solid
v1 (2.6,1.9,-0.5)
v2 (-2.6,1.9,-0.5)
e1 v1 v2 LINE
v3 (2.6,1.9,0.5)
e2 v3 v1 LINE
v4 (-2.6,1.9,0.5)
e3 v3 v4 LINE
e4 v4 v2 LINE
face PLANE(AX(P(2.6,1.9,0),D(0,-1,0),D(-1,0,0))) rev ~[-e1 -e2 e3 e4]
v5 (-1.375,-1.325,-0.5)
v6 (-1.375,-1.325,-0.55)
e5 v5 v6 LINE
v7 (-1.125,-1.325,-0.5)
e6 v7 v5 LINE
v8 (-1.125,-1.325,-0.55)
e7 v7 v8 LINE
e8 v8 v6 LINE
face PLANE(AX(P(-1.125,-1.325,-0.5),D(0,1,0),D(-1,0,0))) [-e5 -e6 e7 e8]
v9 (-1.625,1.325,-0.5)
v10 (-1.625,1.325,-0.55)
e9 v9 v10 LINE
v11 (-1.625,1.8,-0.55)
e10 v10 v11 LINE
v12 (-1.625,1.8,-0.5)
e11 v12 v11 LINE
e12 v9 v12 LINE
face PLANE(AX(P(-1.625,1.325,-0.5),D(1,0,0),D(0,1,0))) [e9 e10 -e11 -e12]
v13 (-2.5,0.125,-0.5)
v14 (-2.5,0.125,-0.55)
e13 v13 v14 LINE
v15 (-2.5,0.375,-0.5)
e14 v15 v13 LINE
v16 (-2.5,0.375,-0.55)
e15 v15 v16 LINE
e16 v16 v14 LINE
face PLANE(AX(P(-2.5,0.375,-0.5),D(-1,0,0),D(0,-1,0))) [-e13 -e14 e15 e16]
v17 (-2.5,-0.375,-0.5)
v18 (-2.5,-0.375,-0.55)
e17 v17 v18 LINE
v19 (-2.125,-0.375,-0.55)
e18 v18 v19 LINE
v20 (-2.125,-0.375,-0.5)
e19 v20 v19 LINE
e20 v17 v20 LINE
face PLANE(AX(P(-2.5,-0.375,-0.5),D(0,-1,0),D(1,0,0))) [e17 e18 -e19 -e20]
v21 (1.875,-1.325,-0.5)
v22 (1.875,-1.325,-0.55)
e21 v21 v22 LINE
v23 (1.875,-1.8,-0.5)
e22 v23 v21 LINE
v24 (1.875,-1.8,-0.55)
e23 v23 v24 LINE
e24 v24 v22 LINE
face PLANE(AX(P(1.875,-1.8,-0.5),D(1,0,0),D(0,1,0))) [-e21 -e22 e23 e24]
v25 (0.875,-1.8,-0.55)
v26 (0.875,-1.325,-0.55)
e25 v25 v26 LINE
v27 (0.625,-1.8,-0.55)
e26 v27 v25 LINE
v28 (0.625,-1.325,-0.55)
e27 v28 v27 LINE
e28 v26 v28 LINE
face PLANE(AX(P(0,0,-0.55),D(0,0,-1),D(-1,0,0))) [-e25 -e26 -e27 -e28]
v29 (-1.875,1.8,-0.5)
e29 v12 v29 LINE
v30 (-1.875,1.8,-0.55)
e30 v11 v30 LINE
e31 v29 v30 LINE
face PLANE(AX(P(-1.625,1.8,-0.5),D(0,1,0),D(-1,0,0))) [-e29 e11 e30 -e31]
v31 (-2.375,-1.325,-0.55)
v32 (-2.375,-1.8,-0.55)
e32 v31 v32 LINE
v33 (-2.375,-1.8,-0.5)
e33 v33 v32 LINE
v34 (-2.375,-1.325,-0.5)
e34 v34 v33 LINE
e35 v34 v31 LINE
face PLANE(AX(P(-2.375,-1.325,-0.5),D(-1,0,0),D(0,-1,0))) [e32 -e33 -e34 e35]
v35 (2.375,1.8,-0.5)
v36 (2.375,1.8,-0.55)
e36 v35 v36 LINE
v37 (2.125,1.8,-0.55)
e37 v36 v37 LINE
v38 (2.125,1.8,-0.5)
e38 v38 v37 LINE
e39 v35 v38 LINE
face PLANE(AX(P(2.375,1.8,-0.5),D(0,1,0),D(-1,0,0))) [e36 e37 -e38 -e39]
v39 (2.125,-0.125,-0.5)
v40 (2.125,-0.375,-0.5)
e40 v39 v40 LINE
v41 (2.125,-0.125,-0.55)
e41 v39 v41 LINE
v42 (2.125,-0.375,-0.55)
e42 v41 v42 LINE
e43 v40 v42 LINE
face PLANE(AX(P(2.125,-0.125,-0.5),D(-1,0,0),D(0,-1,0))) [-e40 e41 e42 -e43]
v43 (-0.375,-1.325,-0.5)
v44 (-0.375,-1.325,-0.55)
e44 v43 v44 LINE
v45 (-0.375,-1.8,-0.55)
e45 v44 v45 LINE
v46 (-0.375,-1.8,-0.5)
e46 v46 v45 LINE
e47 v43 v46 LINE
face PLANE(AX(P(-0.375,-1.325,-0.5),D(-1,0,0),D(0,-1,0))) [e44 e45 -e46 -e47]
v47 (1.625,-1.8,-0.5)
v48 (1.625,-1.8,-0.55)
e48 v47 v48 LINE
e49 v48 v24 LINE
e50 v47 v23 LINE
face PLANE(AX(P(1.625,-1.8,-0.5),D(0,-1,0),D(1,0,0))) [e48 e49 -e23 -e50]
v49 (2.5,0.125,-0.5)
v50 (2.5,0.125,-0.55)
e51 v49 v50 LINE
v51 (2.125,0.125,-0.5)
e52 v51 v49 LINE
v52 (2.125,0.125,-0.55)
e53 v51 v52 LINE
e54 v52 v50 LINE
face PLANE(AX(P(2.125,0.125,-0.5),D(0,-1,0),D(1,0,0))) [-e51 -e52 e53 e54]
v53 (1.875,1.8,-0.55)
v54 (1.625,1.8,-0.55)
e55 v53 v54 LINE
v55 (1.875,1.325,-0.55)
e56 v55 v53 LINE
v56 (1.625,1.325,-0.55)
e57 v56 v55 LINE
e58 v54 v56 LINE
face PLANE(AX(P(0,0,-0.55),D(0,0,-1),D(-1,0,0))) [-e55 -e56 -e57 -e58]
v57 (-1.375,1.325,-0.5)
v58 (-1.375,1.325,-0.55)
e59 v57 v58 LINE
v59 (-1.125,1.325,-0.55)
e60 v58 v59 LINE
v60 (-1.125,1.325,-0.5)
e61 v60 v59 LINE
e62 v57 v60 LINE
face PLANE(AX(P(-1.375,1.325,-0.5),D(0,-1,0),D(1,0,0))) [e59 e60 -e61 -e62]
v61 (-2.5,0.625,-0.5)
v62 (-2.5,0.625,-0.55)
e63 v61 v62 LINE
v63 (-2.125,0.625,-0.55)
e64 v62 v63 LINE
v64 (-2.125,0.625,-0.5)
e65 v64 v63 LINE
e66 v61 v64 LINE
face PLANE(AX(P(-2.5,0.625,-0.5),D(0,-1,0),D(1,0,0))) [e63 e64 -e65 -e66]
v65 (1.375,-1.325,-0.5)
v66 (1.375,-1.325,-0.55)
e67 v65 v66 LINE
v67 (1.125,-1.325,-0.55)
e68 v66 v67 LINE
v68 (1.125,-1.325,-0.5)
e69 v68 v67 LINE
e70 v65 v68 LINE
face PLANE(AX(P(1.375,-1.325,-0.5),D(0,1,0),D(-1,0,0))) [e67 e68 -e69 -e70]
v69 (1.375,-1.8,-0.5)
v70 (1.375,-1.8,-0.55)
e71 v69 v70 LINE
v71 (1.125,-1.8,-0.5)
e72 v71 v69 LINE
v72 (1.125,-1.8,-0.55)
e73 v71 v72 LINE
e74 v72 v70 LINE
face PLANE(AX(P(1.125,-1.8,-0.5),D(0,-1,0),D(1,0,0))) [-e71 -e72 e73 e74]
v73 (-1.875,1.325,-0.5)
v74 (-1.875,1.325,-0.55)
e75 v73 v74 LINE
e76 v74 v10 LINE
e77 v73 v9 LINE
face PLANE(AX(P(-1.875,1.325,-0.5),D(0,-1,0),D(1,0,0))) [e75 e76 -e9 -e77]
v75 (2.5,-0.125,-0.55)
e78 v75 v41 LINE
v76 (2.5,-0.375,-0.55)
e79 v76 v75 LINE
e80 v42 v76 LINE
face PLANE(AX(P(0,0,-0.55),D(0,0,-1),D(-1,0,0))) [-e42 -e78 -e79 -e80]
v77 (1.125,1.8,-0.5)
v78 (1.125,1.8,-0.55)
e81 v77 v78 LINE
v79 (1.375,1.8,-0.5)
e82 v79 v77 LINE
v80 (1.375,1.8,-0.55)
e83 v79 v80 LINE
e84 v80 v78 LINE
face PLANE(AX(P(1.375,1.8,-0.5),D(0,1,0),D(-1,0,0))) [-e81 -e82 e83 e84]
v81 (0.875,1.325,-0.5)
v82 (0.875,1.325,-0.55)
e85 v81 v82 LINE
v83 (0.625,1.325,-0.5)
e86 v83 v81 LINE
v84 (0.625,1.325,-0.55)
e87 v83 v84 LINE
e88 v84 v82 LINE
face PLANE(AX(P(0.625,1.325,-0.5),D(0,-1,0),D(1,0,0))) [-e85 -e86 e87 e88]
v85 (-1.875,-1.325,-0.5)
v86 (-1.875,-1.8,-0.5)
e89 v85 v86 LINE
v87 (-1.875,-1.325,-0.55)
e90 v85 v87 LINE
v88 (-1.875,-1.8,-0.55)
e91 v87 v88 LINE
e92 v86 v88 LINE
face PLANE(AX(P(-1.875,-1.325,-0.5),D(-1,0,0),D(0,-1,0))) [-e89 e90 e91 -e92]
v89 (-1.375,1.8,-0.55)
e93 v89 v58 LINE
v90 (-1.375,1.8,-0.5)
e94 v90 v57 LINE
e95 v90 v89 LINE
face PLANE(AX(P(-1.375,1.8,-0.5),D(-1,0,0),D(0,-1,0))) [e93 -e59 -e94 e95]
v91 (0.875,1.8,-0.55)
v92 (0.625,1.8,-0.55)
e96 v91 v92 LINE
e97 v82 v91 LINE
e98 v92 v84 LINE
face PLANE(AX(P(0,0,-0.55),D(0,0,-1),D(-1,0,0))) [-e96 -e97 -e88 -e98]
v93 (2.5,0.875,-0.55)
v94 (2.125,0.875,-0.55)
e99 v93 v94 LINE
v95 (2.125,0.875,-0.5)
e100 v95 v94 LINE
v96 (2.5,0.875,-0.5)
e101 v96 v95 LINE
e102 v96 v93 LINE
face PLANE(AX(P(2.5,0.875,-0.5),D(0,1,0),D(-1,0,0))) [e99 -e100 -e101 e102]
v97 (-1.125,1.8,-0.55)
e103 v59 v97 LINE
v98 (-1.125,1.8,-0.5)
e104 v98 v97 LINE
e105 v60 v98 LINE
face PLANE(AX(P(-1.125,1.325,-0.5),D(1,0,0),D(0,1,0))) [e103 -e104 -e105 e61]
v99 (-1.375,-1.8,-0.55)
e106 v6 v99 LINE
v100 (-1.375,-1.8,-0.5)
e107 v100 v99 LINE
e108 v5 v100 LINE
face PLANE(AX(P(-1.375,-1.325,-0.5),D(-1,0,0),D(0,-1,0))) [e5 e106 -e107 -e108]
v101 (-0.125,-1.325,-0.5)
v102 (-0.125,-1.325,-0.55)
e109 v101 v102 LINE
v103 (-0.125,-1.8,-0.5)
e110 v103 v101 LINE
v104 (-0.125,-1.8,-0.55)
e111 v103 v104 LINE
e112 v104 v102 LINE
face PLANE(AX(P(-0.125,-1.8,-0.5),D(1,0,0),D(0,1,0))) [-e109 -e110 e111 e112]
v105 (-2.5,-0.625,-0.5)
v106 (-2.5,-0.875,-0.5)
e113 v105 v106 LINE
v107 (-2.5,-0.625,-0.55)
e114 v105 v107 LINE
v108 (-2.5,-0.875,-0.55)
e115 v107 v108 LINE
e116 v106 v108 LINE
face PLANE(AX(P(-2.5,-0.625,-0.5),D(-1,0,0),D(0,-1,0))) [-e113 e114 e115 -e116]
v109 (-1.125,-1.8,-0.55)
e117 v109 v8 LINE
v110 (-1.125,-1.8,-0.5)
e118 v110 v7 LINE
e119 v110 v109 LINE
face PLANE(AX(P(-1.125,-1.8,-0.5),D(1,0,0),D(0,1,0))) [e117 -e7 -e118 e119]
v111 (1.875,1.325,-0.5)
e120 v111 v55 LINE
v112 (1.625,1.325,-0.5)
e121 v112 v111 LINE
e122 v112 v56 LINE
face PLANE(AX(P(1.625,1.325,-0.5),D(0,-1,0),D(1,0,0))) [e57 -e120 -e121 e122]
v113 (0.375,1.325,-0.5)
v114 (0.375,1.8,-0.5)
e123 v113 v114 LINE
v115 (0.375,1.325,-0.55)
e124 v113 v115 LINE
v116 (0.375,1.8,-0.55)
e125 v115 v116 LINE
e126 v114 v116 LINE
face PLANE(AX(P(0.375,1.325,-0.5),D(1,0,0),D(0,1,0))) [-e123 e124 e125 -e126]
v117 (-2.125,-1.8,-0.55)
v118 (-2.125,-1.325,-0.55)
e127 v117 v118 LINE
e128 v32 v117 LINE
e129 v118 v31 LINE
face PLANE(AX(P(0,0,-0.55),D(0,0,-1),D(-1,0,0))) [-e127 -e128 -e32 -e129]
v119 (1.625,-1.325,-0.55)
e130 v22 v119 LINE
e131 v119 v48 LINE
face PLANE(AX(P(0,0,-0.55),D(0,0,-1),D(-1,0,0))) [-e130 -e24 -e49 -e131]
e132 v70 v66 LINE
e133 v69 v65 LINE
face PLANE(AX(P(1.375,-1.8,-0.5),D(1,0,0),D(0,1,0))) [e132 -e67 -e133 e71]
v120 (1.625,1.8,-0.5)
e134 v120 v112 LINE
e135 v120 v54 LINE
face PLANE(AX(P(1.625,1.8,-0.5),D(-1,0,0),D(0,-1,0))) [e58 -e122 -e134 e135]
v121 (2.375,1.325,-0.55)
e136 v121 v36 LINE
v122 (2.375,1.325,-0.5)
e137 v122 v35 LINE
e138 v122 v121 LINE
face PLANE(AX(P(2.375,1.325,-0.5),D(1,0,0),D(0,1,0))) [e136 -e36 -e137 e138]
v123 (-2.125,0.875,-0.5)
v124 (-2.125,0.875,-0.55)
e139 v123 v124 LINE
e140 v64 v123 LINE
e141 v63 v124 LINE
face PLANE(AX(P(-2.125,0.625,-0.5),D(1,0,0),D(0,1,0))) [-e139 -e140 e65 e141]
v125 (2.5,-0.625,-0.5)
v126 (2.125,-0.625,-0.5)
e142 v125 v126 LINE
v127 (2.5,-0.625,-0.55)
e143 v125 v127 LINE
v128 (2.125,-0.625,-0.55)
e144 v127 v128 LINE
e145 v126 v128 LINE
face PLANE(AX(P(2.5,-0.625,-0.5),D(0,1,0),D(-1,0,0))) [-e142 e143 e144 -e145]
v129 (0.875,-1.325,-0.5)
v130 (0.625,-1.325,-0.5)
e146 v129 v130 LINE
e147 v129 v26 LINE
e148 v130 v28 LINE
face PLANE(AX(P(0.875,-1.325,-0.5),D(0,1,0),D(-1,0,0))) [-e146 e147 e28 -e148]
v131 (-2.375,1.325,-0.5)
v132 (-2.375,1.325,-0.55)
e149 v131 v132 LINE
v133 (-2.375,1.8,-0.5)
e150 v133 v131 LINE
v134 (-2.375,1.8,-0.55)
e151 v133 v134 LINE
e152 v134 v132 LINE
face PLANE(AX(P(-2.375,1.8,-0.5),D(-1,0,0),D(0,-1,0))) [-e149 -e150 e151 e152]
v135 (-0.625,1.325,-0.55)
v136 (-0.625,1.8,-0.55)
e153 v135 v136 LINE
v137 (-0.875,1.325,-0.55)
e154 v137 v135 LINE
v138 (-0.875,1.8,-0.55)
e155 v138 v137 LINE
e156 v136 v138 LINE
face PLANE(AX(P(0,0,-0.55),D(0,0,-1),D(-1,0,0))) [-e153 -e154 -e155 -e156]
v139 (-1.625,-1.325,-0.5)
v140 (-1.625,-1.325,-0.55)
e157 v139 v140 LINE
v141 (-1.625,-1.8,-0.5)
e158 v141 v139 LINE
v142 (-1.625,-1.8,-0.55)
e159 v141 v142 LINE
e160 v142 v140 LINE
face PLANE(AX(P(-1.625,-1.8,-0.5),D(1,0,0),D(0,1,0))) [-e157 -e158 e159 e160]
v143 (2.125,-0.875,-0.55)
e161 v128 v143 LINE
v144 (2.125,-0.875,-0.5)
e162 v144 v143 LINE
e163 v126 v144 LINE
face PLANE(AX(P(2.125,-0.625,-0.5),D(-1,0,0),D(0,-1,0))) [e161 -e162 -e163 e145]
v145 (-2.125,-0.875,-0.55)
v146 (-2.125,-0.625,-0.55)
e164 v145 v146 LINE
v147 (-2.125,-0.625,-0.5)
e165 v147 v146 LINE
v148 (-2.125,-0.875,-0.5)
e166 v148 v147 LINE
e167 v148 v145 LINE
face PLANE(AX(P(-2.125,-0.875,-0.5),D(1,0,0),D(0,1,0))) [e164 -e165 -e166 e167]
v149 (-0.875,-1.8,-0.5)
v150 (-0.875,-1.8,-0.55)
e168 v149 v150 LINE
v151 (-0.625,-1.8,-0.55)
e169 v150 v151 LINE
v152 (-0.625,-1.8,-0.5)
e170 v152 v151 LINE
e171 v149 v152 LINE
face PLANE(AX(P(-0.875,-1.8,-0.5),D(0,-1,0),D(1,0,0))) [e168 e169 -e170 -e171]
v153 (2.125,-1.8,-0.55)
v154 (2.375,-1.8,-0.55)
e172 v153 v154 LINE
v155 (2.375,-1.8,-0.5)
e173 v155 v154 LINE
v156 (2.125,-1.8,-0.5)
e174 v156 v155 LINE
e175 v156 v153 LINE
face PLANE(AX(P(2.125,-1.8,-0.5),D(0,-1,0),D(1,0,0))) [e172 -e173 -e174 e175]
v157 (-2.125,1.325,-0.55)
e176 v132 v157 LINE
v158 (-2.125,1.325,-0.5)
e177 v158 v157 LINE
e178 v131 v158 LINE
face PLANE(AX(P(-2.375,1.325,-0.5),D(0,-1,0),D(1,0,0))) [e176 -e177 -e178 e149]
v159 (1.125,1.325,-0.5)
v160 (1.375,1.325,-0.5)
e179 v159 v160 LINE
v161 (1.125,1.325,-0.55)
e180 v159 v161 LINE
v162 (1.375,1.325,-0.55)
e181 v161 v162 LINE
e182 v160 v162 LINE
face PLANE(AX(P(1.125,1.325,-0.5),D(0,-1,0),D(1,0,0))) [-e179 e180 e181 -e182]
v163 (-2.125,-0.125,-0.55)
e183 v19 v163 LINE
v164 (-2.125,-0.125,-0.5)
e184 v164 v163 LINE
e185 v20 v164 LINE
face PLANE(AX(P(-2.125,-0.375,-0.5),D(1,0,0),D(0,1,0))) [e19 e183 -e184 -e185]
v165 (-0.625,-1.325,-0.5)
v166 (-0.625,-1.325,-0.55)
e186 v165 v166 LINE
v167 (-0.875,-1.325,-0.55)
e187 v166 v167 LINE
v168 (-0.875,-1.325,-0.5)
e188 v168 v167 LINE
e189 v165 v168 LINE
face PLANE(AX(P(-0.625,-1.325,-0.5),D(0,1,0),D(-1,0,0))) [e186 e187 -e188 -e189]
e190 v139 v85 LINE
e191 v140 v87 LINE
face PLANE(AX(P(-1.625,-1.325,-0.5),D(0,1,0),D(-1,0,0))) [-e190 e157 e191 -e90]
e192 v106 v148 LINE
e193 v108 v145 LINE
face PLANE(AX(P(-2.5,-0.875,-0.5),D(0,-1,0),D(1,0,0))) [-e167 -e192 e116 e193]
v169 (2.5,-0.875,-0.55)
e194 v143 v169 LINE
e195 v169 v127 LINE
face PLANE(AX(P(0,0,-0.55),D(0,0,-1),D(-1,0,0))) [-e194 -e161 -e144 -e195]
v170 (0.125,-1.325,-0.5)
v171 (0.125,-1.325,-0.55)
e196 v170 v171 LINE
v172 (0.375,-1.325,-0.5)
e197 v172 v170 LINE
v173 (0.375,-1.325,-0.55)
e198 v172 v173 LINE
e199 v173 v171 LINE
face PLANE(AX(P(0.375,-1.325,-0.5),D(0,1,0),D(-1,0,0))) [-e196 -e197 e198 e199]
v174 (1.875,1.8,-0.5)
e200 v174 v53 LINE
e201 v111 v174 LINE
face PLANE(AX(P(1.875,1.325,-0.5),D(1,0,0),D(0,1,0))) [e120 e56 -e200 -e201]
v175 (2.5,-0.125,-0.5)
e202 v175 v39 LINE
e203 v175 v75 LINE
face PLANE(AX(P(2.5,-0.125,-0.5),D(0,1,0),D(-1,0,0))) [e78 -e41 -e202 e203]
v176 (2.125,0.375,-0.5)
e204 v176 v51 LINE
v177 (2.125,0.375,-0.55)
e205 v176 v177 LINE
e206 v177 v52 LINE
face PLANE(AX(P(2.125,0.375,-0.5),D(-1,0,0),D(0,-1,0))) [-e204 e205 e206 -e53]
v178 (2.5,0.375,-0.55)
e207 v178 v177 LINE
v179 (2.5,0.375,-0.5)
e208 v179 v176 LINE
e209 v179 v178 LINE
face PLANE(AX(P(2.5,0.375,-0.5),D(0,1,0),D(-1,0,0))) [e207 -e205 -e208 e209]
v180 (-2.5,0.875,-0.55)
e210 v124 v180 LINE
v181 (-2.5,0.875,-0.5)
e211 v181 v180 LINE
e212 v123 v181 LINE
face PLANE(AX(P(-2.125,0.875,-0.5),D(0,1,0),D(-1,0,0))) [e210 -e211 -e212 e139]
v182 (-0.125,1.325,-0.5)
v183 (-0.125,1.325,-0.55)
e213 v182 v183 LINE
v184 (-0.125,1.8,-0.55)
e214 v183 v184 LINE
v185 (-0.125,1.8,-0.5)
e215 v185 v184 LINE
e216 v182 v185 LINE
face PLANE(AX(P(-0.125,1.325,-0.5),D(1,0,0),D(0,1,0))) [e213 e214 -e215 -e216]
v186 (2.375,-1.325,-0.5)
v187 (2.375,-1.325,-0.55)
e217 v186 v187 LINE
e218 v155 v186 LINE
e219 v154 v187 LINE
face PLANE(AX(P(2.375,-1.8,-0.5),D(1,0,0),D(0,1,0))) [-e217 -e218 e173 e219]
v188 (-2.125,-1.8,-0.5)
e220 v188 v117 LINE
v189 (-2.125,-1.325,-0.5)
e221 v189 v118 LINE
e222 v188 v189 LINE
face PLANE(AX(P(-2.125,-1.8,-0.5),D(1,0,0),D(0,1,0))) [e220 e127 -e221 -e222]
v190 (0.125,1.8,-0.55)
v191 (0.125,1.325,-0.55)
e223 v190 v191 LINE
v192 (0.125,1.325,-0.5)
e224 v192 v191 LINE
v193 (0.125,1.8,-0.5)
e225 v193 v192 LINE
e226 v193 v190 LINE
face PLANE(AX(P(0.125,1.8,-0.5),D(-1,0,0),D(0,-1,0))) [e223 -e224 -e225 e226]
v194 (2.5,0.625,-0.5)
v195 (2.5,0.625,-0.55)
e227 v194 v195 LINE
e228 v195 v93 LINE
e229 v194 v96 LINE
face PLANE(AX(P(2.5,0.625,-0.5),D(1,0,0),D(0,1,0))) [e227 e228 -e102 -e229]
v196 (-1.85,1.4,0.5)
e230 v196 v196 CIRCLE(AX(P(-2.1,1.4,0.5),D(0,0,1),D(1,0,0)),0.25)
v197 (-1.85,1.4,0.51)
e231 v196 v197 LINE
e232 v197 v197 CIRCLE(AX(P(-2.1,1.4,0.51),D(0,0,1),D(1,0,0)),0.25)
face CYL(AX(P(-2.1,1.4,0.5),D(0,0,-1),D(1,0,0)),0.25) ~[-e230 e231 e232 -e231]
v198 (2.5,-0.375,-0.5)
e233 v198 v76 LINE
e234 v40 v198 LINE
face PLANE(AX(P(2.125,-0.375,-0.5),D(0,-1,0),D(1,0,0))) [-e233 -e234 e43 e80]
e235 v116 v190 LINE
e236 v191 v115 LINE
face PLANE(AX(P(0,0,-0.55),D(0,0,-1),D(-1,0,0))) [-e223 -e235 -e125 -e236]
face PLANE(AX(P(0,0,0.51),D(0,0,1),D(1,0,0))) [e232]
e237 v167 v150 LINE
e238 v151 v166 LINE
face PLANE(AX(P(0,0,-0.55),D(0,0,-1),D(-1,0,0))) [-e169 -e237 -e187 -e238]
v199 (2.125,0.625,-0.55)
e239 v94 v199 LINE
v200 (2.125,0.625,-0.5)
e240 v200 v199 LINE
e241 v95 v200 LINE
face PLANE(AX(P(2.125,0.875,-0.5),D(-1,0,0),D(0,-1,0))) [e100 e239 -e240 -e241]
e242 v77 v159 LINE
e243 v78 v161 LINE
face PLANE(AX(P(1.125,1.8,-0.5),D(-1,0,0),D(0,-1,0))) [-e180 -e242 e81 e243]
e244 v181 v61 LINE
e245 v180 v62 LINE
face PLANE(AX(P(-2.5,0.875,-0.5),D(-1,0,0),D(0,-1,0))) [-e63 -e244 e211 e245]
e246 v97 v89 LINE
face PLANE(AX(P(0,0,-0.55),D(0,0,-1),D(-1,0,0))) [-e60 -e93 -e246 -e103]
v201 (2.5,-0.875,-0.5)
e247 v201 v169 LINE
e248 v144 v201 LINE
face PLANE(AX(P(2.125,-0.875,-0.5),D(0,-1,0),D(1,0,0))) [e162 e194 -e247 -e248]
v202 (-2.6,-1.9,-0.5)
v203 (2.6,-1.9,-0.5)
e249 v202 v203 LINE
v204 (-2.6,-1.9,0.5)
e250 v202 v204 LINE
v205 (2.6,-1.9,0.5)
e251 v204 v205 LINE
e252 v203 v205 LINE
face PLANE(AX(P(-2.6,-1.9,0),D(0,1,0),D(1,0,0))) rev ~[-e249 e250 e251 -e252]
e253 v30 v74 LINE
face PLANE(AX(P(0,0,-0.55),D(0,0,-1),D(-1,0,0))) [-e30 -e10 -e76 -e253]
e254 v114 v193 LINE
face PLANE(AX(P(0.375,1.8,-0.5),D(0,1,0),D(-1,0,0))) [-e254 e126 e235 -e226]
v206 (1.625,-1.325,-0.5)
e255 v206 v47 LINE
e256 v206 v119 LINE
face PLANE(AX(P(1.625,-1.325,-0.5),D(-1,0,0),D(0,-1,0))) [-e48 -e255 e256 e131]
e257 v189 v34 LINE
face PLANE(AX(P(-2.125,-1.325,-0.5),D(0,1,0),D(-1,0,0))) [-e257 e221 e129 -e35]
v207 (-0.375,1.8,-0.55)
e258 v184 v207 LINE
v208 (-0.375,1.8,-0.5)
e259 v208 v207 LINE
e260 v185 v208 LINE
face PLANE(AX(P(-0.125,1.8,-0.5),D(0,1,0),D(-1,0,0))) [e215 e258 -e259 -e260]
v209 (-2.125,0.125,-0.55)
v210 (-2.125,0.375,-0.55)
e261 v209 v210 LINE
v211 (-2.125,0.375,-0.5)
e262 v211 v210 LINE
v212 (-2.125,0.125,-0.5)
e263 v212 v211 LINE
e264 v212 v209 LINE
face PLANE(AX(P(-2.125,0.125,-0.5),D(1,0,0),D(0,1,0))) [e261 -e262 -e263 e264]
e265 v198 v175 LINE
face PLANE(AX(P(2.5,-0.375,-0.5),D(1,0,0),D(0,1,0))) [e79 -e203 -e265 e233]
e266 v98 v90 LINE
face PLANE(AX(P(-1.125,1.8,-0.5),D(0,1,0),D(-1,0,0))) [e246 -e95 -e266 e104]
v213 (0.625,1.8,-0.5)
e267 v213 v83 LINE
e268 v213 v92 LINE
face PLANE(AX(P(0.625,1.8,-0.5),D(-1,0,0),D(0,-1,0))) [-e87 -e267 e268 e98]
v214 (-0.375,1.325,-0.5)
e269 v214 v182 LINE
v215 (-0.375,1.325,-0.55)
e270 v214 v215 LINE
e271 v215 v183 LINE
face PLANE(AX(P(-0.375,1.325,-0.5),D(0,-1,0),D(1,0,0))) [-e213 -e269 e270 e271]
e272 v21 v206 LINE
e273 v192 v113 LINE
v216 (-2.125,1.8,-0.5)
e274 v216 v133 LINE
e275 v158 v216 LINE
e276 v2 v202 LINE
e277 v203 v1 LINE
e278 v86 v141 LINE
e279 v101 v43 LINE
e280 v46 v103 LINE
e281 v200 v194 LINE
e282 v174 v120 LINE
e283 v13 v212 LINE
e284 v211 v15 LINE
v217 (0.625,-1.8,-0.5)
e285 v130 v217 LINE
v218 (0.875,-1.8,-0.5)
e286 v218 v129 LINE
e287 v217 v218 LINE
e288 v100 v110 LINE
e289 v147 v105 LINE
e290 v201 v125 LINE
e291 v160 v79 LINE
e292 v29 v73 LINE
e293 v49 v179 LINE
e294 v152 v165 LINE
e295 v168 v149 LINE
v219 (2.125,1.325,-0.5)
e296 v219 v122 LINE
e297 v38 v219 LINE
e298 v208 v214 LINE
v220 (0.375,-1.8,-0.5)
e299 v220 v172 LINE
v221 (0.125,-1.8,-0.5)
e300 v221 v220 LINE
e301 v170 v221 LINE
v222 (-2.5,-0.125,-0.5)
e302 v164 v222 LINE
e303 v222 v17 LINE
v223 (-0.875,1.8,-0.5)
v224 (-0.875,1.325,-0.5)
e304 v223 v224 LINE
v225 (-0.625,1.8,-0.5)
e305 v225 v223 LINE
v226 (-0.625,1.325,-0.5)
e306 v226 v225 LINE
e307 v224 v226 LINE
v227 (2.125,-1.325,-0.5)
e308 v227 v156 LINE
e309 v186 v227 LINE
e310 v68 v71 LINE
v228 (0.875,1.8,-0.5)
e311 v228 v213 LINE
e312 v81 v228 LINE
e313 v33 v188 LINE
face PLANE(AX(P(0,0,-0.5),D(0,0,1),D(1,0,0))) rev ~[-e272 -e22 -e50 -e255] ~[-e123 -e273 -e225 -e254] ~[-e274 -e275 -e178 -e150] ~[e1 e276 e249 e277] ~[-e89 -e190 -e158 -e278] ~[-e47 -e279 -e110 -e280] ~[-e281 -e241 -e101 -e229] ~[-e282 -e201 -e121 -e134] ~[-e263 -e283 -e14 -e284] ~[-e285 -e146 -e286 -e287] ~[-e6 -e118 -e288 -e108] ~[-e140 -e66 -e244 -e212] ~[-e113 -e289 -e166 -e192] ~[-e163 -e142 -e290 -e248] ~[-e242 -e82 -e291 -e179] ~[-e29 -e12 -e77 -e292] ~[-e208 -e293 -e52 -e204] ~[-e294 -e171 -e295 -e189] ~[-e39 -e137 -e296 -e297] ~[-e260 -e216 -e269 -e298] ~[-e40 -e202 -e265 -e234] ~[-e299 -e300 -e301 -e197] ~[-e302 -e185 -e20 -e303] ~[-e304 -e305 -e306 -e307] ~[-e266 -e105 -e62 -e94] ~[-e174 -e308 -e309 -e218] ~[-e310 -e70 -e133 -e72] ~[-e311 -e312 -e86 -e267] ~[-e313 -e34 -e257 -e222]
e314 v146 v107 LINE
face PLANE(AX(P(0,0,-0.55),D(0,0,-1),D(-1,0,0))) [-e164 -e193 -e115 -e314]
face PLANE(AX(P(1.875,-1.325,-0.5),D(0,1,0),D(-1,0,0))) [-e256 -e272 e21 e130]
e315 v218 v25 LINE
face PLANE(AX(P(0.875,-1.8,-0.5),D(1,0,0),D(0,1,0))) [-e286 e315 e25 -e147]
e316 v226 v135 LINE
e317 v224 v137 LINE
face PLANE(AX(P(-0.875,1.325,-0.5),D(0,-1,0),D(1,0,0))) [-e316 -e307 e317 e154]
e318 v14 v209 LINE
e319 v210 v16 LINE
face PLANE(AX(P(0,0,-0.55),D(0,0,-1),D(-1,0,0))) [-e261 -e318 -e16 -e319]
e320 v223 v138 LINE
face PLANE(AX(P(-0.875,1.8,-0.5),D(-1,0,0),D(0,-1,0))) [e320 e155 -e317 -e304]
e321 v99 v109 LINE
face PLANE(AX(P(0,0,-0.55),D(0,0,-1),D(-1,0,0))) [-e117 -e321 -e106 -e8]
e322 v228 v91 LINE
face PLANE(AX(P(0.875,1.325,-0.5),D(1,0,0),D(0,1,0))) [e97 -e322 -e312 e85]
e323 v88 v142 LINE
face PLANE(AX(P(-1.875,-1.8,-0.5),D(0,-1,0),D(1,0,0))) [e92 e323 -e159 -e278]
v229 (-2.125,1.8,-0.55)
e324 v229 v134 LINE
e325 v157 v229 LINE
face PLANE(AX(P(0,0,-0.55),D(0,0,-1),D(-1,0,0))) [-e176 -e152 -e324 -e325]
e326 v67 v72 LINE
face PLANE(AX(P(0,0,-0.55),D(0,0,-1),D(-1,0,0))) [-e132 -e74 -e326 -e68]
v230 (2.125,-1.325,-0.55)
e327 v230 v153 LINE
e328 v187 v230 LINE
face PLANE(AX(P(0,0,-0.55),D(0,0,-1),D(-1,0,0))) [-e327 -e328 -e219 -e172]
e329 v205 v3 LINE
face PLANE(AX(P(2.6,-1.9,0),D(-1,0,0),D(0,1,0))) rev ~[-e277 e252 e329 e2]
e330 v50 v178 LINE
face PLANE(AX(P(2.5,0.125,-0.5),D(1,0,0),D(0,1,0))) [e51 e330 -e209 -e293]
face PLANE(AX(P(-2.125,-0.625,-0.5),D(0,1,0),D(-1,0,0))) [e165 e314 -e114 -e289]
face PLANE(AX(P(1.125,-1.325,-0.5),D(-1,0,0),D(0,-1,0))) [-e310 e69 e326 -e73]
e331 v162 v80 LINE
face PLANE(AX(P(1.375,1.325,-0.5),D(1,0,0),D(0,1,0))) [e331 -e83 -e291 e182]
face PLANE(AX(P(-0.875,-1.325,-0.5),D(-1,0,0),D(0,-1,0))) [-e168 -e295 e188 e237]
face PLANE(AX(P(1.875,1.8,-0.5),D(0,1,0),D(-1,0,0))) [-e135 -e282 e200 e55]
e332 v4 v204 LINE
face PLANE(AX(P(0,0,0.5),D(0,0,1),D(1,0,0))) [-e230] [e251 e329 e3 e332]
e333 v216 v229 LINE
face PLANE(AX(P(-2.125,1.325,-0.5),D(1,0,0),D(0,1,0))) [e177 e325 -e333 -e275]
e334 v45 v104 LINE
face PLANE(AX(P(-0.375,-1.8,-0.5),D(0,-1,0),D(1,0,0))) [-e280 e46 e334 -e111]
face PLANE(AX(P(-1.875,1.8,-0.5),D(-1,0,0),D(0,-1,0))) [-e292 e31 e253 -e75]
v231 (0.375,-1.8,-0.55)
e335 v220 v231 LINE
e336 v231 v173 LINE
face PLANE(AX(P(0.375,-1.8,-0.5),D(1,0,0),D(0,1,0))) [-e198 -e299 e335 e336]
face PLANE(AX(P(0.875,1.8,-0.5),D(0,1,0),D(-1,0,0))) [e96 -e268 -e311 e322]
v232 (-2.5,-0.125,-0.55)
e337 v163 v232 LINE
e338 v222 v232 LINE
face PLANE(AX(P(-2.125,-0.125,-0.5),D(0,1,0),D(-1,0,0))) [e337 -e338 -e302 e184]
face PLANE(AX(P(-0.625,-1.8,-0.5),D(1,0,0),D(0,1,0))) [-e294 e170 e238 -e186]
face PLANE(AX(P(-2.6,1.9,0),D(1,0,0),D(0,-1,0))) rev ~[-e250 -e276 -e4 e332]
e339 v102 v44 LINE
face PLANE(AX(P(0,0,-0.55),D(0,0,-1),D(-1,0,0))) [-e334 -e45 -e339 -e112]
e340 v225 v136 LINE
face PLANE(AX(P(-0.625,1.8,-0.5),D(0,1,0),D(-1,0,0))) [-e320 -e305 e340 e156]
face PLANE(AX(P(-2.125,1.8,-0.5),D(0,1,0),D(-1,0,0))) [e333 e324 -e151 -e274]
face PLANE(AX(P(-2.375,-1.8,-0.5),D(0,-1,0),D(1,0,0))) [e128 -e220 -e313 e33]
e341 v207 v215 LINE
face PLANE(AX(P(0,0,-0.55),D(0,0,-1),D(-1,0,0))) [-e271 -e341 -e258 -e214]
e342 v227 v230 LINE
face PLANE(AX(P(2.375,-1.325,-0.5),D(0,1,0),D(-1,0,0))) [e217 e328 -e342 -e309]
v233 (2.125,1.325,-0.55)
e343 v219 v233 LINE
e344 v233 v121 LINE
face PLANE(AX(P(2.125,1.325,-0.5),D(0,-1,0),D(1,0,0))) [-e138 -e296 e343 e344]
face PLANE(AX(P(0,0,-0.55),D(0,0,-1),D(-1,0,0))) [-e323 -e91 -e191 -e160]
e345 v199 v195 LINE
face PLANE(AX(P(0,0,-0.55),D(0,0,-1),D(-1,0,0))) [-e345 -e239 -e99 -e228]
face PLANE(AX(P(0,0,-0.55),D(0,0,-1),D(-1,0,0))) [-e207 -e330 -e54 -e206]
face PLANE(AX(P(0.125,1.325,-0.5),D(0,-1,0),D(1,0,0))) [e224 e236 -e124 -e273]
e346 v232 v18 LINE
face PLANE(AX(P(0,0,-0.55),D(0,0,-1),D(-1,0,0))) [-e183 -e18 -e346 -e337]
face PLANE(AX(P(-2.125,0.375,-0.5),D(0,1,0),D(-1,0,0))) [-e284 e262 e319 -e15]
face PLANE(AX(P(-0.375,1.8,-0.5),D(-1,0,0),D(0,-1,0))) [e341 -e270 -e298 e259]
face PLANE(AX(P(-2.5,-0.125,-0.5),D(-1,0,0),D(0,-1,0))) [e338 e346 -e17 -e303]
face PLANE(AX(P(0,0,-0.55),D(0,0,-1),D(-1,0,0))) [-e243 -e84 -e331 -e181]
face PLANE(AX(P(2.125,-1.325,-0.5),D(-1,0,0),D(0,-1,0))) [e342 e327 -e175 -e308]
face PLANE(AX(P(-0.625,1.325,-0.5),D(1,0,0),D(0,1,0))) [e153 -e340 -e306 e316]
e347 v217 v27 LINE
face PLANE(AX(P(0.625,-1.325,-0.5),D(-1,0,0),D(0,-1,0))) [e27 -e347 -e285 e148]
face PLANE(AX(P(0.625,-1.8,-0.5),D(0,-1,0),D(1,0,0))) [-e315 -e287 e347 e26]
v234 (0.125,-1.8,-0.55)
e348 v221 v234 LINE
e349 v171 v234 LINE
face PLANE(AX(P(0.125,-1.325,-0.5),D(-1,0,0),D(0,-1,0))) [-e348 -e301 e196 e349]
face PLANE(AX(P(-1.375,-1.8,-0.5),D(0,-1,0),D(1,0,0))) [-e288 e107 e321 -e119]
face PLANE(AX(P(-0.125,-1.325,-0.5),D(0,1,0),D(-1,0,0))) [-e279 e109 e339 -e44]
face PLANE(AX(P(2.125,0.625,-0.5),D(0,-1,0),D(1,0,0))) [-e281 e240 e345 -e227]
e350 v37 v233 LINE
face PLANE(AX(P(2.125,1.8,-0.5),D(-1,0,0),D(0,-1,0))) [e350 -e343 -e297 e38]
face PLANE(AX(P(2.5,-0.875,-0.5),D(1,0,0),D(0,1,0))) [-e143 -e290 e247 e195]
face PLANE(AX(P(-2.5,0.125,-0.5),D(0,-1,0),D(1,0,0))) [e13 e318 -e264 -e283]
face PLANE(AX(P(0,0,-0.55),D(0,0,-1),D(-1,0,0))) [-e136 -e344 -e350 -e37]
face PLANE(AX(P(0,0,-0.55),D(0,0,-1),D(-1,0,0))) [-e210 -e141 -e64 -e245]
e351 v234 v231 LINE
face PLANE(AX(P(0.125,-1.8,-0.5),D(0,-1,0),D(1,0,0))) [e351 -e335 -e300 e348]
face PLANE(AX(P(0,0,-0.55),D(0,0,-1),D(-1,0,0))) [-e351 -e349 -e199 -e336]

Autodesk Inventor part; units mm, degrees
ref_plane "YZ Plane" through (0, 0, 0) normal (1, 0, 0) x (0, 1, 0)
ref_plane "XZ Plane" through (0, 0, 0) normal (0, 1, 0) x (-1, 0, 0)
ref_plane "XY Plane" through (0, 0, 0) normal (0, 0, 1) x (1, 0, 0)
sketch "Sketch1" plane through (0, 0, 0) normal (0, 0, 1) x (1, 0, 0)
  line L0 (-2.6, -1.9) -> (2.6, -1.9)
  line L1 (2.6, -1.9) -> (2.6, 1.9)
  line L2 (2.6, 1.9) -> (-2.6, 1.9)
  line L3 (-2.6, 1.9) -> (-2.6, -1.9)
  line L4 (-2.6, -1.9) -> (2.6, 1.9) construction
  line L5 (2.6, -1.9) -> (-2.6, 1.9) construction
  point P0 (0, 0)
  dimension "d0" = 5.2
  dimension "d1" = 3.8
extrude "Extrusion1" add sketch "Sketch1" along normal mid plane 1
sketch "Sketch2" plane through (0, 0, -0.5) normal (0, 0, -1) x (-1, 0, 0)
  line L0 (-2.6, -1.9) -> (2.6, -1.9) projected
  line L1 (2.6, -1.9) -> (2.6, 1.9) projected
  line L2 (2.6, 1.9) -> (-2.6, 1.9) projected
  line L3 (-2.6, 1.9) -> (-2.6, -1.9) projected
  line L4 (-2.375, 1.8) -> (-2.125, 1.8)
  line L5 (-2.125, 1.8) -> (-2.125, 1.325)
  line L6 (-2.125, 1.325) -> (-2.375, 1.325)
  line L7 (-2.375, 1.325) -> (-2.375, 1.8)
  line L8 (-2.375, -1.325) -> (-2.125, -1.325)
  line L9 (-2.125, -1.325) -> (-2.125, -1.8)
  line L10 (-2.125, -1.8) -> (-2.375, -1.8)
  line L11 (-2.375, -1.8) -> (-2.375, -1.325)
  line L12 (-2.5, 0.875) -> (-2.125, 0.875)
  line L13 (-2.125, 0.875) -> (-2.125, 0.625)
  line L14 (-2.125, 0.625) -> (-2.5, 0.625)
  line L15 (-2.5, 0.625) -> (-2.5, 0.875)
  line L16 (2.125, 0.875) -> (2.5, 0.875)
  line L17 (2.5, 0.875) -> (2.5, 0.625)
  line L18 (2.5, 0.625) -> (2.125, 0.625)
  line L19 (2.125, 0.625) -> (2.125, 0.875)
  line L20 (2.125, 0.125) -> (2.125, 0.375)
  line L21 (2.5, 0.375) -> (2.5, 0.125)
  line L22 (2.5, 0.125) -> (2.125, 0.125)
  line L23 (2.125, 0.375) -> (2.5, 0.375)
  line L24 (-2.125, 0.375) -> (-2.125, 0.125)
  line L25 (-2.5, 0.375) -> (-2.125, 0.375)
  line L26 (-2.125, 0.125) -> (-2.5, 0.125)
  line L27 (-2.5, 0.125) -> (-2.5, 0.375)
  line L28 (2.125, -0.375) -> (2.125, -0.125)
  line L29 (2.5, -0.125) -> (2.5, -0.375)
  line L30 (2.5, -0.375) -> (2.125, -0.375)
  line L31 (2.125, -0.125) -> (2.5, -0.125)
  line L32 (-2.125, -0.125) -> (-2.125, -0.375)
  line L33 (-2.5, -0.125) -> (-2.125, -0.125)
  line L34 (-2.125, -0.375) -> (-2.5, -0.375)
  line L35 (-2.5, -0.375) -> (-2.5, -0.125)
  line L36 (2.125, -0.875) -> (2.125, -0.625)
  line L37 (2.5, -0.625) -> (2.5, -0.875)
  line L38 (2.5, -0.875) -> (2.125, -0.875)
  line L39 (2.125, -0.625) -> (2.5, -0.625)
  line L40 (-2.125, -0.625) -> (-2.125, -0.875)
  line L41 (-2.5, -0.625) -> (-2.125, -0.625)
  line L42 (-2.125, -0.875) -> (-2.5, -0.875)
  line L43 (-2.5, -0.875) -> (-2.5, -0.625)
  line L44 (-1.875, -1.8) -> (-1.875, -1.325)
  line L45 (-1.625, -1.325) -> (-1.625, -1.8)
  line L46 (-1.625, -1.8) -> (-1.875, -1.8)
  line L47 (-1.875, -1.325) -> (-1.625, -1.325)
  line L48 (-1.875, 1.8) -> (-1.625, 1.8)
  line L49 (-1.625, 1.8) -> (-1.625, 1.325)
  line L50 (-1.625, 1.325) -> (-1.875, 1.325)
  line L51 (-1.875, 1.325) -> (-1.875, 1.8)
  line L52 (-1.375, -1.8) -> (-1.375, -1.325)
  line L53 (-1.125, -1.325) -> (-1.125, -1.8)
  line L54 (-1.125, -1.8) -> (-1.375, -1.8)
  line L55 (-1.375, -1.325) -> (-1.125, -1.325)
  line L56 (-1.375, 1.8) -> (-1.125, 1.8)
  line L57 (-1.125, 1.8) -> (-1.125, 1.325)
  line L58 (-1.125, 1.325) -> (-1.375, 1.325)
  line L59 (-1.375, 1.325) -> (-1.375, 1.8)
  line L60 (-0.875, -1.8) -> (-0.875, -1.325)
  line L61 (-0.625, -1.325) -> (-0.625, -1.8)
  line L62 (-0.625, -1.8) -> (-0.875, -1.8)
  line L63 (-0.875, -1.325) -> (-0.625, -1.325)
  line L64 (-0.875, 1.8) -> (-0.625, 1.8)
  line L65 (-0.625, 1.8) -> (-0.625, 1.325)
  line L66 (-0.625, 1.325) -> (-0.875, 1.325)
  line L67 (-0.875, 1.325) -> (-0.875, 1.8)
  line L68 (-0.375, -1.8) -> (-0.375, -1.325)
  line L69 (-0.125, -1.325) -> (-0.125, -1.8)
  line L70 (-0.125, -1.8) -> (-0.375, -1.8)
  line L71 (-0.375, -1.325) -> (-0.125, -1.325)
  line L72 (-0.375, 1.8) -> (-0.125, 1.8)
  line L73 (-0.125, 1.8) -> (-0.125, 1.325)
  line L74 (-0.125, 1.325) -> (-0.375, 1.325)
  line L75 (-0.375, 1.325) -> (-0.375, 1.8)
  line L76 (0.125, -1.8) -> (0.125, -1.325)
  line L77 (0.375, -1.325) -> (0.375, -1.8)
  line L78 (0.375, -1.8) -> (0.125, -1.8)
  line L79 (0.125, -1.325) -> (0.375, -1.325)
  line L80 (0.125, 1.8) -> (0.375, 1.8)
  line L81 (0.375, 1.8) -> (0.375, 1.325)
  line L82 (0.375, 1.325) -> (0.125, 1.325)
  line L83 (0.125, 1.325) -> (0.125, 1.8)
  line L84 (0.625, -1.8) -> (0.625, -1.325)
  line L85 (0.875, -1.325) -> (0.875, -1.8)
  line L86 (0.875, -1.8) -> (0.625, -1.8)
  line L87 (0.625, -1.325) -> (0.875, -1.325)
  line L88 (0.625, 1.8) -> (0.875, 1.8)
  line L89 (0.875, 1.8) -> (0.875, 1.325)
  line L90 (0.875, 1.325) -> (0.625, 1.325)
  line L91 (0.625, 1.325) -> (0.625, 1.8)
  line L92 (1.125, -1.8) -> (1.125, -1.325)
  line L93 (1.375, -1.325) -> (1.375, -1.8)
  line L94 (1.375, -1.8) -> (1.125, -1.8)
  line L95 (1.125, -1.325) -> (1.375, -1.325)
  line L96 (1.125, 1.8) -> (1.375, 1.8)
  line L97 (1.375, 1.8) -> (1.375, 1.325)
  line L98 (1.375, 1.325) -> (1.125, 1.325)
  line L99 (1.125, 1.325) -> (1.125, 1.8)
  line L100 (1.625, -1.8) -> (1.625, -1.325)
  line L101 (1.875, -1.325) -> (1.875, -1.8)
  line L102 (1.875, -1.8) -> (1.625, -1.8)
  line L103 (1.625, -1.325) -> (1.875, -1.325)
  line L104 (1.625, 1.8) -> (1.875, 1.8)
  line L105 (1.875, 1.8) -> (1.875, 1.325)
  line L106 (1.875, 1.325) -> (1.625, 1.325)
  line L107 (1.625, 1.325) -> (1.625, 1.8)
  line L108 (2.125, -1.8) -> (2.125, -1.325)
  line L109 (2.375, -1.325) -> (2.375, -1.8)
  line L110 (2.375, -1.8) -> (2.125, -1.8)
  line L111 (2.125, -1.325) -> (2.375, -1.325)
  line L112 (2.125, 1.8) -> (2.375, 1.8)
  line L113 (2.375, 1.8) -> (2.375, 1.325)
  line L114 (2.375, 1.325) -> (2.125, 1.325)
  line L115 (2.125, 1.325) -> (2.125, 1.8)
  point P0 (0, 0)
  point P1 (-2.125, 0.25)
  point P2 (-0.25, 1.325)
  dimension "d4" = 0.25
  dimension "d5" = 0.475
  dimension "d6" = 0.1
  dimension "d7" = 0.1
  dimension "d8" = 0.1
  dimension "d9" = 0.1
  dimension "d10" = 0.25
  dimension "d11" = 0.375
  dimension "d14" = 0.5
  dimension "d21" = 0.5
  dimension "d26" = 0.25
  dimension "d27" = 0.25
extrude "Extrusion2" add sketch "Sketch2" along normal blind 0.05 contours L4 L5 L6 L7 | L8 L9 L10 L11 | L12 L13 L14 L15 | L16 L17 L18 L19 | L20 L23 L21 L22 | L24 L26 L27 L25 | L28 L31 L29 L30 | L32 L34 L35 L33 | L36 L39 L37 L38 | L40 L42 L43 L41 | L44 L47 L45 L46 | L48 L49 L50 L51 | L52 L55 L53 L54 | L56 L57 L58 L59 | L60 L63 L61 L62 | L64 L65 L66 L67 | L68 L71 L69 L70 | L72 L73 L74 L75 | L76 L79 L77 L78 | L80 L81 L82 L83 | L84 L87 L85 L86 | L88 L89 L90 L91 | L92 L95 L93 L94 | L96 L97 L98 L99 | L100 L103 L101 L102 | L104 L105 L106 L107 | L108 L111 L109 L110 | L112 L113 L114 L115
sketch "Sketch3" plane through (0, 0, 0.5) normal (0, 0, 1) x (1, 0, 0)
  line L0 (-2.6, -1.9) -> (2.6, -1.9) projected
  line L1 (2.6, -1.9) -> (2.6, 1.9) projected
  line L2 (2.6, 1.9) -> (-2.6, 1.9) projected
  line L3 (-2.6, 1.9) -> (-2.6, -1.9) projected
  circle A0 centre (-2.1, 1.4) radius 0.5 construction
  line L4 (-2.6, 1.9) -> (2.6, 1.9) construction
  circle A1 centre (-2.1, 1.4) radius 0.25
  line L5 (-2.6, 1.9) -> (-2.6, -1.9) projected
  point P0 (0, 0)
  dimension "d30" = 0.5
  dimension "d31" = 1
extrude "Extrusion3" add sketch "Sketch3" along normal blind 0.01 contours A1
equation "\"d7\" = d6"
equation "\"d8\" = d7"
equation "\"d9\" = d7"
equation "\"d26\" = 0.5 * d14"
equation "\"d27\" = 0.5 * d21"
properties part number "66-0001" material "ABS Plastic"
